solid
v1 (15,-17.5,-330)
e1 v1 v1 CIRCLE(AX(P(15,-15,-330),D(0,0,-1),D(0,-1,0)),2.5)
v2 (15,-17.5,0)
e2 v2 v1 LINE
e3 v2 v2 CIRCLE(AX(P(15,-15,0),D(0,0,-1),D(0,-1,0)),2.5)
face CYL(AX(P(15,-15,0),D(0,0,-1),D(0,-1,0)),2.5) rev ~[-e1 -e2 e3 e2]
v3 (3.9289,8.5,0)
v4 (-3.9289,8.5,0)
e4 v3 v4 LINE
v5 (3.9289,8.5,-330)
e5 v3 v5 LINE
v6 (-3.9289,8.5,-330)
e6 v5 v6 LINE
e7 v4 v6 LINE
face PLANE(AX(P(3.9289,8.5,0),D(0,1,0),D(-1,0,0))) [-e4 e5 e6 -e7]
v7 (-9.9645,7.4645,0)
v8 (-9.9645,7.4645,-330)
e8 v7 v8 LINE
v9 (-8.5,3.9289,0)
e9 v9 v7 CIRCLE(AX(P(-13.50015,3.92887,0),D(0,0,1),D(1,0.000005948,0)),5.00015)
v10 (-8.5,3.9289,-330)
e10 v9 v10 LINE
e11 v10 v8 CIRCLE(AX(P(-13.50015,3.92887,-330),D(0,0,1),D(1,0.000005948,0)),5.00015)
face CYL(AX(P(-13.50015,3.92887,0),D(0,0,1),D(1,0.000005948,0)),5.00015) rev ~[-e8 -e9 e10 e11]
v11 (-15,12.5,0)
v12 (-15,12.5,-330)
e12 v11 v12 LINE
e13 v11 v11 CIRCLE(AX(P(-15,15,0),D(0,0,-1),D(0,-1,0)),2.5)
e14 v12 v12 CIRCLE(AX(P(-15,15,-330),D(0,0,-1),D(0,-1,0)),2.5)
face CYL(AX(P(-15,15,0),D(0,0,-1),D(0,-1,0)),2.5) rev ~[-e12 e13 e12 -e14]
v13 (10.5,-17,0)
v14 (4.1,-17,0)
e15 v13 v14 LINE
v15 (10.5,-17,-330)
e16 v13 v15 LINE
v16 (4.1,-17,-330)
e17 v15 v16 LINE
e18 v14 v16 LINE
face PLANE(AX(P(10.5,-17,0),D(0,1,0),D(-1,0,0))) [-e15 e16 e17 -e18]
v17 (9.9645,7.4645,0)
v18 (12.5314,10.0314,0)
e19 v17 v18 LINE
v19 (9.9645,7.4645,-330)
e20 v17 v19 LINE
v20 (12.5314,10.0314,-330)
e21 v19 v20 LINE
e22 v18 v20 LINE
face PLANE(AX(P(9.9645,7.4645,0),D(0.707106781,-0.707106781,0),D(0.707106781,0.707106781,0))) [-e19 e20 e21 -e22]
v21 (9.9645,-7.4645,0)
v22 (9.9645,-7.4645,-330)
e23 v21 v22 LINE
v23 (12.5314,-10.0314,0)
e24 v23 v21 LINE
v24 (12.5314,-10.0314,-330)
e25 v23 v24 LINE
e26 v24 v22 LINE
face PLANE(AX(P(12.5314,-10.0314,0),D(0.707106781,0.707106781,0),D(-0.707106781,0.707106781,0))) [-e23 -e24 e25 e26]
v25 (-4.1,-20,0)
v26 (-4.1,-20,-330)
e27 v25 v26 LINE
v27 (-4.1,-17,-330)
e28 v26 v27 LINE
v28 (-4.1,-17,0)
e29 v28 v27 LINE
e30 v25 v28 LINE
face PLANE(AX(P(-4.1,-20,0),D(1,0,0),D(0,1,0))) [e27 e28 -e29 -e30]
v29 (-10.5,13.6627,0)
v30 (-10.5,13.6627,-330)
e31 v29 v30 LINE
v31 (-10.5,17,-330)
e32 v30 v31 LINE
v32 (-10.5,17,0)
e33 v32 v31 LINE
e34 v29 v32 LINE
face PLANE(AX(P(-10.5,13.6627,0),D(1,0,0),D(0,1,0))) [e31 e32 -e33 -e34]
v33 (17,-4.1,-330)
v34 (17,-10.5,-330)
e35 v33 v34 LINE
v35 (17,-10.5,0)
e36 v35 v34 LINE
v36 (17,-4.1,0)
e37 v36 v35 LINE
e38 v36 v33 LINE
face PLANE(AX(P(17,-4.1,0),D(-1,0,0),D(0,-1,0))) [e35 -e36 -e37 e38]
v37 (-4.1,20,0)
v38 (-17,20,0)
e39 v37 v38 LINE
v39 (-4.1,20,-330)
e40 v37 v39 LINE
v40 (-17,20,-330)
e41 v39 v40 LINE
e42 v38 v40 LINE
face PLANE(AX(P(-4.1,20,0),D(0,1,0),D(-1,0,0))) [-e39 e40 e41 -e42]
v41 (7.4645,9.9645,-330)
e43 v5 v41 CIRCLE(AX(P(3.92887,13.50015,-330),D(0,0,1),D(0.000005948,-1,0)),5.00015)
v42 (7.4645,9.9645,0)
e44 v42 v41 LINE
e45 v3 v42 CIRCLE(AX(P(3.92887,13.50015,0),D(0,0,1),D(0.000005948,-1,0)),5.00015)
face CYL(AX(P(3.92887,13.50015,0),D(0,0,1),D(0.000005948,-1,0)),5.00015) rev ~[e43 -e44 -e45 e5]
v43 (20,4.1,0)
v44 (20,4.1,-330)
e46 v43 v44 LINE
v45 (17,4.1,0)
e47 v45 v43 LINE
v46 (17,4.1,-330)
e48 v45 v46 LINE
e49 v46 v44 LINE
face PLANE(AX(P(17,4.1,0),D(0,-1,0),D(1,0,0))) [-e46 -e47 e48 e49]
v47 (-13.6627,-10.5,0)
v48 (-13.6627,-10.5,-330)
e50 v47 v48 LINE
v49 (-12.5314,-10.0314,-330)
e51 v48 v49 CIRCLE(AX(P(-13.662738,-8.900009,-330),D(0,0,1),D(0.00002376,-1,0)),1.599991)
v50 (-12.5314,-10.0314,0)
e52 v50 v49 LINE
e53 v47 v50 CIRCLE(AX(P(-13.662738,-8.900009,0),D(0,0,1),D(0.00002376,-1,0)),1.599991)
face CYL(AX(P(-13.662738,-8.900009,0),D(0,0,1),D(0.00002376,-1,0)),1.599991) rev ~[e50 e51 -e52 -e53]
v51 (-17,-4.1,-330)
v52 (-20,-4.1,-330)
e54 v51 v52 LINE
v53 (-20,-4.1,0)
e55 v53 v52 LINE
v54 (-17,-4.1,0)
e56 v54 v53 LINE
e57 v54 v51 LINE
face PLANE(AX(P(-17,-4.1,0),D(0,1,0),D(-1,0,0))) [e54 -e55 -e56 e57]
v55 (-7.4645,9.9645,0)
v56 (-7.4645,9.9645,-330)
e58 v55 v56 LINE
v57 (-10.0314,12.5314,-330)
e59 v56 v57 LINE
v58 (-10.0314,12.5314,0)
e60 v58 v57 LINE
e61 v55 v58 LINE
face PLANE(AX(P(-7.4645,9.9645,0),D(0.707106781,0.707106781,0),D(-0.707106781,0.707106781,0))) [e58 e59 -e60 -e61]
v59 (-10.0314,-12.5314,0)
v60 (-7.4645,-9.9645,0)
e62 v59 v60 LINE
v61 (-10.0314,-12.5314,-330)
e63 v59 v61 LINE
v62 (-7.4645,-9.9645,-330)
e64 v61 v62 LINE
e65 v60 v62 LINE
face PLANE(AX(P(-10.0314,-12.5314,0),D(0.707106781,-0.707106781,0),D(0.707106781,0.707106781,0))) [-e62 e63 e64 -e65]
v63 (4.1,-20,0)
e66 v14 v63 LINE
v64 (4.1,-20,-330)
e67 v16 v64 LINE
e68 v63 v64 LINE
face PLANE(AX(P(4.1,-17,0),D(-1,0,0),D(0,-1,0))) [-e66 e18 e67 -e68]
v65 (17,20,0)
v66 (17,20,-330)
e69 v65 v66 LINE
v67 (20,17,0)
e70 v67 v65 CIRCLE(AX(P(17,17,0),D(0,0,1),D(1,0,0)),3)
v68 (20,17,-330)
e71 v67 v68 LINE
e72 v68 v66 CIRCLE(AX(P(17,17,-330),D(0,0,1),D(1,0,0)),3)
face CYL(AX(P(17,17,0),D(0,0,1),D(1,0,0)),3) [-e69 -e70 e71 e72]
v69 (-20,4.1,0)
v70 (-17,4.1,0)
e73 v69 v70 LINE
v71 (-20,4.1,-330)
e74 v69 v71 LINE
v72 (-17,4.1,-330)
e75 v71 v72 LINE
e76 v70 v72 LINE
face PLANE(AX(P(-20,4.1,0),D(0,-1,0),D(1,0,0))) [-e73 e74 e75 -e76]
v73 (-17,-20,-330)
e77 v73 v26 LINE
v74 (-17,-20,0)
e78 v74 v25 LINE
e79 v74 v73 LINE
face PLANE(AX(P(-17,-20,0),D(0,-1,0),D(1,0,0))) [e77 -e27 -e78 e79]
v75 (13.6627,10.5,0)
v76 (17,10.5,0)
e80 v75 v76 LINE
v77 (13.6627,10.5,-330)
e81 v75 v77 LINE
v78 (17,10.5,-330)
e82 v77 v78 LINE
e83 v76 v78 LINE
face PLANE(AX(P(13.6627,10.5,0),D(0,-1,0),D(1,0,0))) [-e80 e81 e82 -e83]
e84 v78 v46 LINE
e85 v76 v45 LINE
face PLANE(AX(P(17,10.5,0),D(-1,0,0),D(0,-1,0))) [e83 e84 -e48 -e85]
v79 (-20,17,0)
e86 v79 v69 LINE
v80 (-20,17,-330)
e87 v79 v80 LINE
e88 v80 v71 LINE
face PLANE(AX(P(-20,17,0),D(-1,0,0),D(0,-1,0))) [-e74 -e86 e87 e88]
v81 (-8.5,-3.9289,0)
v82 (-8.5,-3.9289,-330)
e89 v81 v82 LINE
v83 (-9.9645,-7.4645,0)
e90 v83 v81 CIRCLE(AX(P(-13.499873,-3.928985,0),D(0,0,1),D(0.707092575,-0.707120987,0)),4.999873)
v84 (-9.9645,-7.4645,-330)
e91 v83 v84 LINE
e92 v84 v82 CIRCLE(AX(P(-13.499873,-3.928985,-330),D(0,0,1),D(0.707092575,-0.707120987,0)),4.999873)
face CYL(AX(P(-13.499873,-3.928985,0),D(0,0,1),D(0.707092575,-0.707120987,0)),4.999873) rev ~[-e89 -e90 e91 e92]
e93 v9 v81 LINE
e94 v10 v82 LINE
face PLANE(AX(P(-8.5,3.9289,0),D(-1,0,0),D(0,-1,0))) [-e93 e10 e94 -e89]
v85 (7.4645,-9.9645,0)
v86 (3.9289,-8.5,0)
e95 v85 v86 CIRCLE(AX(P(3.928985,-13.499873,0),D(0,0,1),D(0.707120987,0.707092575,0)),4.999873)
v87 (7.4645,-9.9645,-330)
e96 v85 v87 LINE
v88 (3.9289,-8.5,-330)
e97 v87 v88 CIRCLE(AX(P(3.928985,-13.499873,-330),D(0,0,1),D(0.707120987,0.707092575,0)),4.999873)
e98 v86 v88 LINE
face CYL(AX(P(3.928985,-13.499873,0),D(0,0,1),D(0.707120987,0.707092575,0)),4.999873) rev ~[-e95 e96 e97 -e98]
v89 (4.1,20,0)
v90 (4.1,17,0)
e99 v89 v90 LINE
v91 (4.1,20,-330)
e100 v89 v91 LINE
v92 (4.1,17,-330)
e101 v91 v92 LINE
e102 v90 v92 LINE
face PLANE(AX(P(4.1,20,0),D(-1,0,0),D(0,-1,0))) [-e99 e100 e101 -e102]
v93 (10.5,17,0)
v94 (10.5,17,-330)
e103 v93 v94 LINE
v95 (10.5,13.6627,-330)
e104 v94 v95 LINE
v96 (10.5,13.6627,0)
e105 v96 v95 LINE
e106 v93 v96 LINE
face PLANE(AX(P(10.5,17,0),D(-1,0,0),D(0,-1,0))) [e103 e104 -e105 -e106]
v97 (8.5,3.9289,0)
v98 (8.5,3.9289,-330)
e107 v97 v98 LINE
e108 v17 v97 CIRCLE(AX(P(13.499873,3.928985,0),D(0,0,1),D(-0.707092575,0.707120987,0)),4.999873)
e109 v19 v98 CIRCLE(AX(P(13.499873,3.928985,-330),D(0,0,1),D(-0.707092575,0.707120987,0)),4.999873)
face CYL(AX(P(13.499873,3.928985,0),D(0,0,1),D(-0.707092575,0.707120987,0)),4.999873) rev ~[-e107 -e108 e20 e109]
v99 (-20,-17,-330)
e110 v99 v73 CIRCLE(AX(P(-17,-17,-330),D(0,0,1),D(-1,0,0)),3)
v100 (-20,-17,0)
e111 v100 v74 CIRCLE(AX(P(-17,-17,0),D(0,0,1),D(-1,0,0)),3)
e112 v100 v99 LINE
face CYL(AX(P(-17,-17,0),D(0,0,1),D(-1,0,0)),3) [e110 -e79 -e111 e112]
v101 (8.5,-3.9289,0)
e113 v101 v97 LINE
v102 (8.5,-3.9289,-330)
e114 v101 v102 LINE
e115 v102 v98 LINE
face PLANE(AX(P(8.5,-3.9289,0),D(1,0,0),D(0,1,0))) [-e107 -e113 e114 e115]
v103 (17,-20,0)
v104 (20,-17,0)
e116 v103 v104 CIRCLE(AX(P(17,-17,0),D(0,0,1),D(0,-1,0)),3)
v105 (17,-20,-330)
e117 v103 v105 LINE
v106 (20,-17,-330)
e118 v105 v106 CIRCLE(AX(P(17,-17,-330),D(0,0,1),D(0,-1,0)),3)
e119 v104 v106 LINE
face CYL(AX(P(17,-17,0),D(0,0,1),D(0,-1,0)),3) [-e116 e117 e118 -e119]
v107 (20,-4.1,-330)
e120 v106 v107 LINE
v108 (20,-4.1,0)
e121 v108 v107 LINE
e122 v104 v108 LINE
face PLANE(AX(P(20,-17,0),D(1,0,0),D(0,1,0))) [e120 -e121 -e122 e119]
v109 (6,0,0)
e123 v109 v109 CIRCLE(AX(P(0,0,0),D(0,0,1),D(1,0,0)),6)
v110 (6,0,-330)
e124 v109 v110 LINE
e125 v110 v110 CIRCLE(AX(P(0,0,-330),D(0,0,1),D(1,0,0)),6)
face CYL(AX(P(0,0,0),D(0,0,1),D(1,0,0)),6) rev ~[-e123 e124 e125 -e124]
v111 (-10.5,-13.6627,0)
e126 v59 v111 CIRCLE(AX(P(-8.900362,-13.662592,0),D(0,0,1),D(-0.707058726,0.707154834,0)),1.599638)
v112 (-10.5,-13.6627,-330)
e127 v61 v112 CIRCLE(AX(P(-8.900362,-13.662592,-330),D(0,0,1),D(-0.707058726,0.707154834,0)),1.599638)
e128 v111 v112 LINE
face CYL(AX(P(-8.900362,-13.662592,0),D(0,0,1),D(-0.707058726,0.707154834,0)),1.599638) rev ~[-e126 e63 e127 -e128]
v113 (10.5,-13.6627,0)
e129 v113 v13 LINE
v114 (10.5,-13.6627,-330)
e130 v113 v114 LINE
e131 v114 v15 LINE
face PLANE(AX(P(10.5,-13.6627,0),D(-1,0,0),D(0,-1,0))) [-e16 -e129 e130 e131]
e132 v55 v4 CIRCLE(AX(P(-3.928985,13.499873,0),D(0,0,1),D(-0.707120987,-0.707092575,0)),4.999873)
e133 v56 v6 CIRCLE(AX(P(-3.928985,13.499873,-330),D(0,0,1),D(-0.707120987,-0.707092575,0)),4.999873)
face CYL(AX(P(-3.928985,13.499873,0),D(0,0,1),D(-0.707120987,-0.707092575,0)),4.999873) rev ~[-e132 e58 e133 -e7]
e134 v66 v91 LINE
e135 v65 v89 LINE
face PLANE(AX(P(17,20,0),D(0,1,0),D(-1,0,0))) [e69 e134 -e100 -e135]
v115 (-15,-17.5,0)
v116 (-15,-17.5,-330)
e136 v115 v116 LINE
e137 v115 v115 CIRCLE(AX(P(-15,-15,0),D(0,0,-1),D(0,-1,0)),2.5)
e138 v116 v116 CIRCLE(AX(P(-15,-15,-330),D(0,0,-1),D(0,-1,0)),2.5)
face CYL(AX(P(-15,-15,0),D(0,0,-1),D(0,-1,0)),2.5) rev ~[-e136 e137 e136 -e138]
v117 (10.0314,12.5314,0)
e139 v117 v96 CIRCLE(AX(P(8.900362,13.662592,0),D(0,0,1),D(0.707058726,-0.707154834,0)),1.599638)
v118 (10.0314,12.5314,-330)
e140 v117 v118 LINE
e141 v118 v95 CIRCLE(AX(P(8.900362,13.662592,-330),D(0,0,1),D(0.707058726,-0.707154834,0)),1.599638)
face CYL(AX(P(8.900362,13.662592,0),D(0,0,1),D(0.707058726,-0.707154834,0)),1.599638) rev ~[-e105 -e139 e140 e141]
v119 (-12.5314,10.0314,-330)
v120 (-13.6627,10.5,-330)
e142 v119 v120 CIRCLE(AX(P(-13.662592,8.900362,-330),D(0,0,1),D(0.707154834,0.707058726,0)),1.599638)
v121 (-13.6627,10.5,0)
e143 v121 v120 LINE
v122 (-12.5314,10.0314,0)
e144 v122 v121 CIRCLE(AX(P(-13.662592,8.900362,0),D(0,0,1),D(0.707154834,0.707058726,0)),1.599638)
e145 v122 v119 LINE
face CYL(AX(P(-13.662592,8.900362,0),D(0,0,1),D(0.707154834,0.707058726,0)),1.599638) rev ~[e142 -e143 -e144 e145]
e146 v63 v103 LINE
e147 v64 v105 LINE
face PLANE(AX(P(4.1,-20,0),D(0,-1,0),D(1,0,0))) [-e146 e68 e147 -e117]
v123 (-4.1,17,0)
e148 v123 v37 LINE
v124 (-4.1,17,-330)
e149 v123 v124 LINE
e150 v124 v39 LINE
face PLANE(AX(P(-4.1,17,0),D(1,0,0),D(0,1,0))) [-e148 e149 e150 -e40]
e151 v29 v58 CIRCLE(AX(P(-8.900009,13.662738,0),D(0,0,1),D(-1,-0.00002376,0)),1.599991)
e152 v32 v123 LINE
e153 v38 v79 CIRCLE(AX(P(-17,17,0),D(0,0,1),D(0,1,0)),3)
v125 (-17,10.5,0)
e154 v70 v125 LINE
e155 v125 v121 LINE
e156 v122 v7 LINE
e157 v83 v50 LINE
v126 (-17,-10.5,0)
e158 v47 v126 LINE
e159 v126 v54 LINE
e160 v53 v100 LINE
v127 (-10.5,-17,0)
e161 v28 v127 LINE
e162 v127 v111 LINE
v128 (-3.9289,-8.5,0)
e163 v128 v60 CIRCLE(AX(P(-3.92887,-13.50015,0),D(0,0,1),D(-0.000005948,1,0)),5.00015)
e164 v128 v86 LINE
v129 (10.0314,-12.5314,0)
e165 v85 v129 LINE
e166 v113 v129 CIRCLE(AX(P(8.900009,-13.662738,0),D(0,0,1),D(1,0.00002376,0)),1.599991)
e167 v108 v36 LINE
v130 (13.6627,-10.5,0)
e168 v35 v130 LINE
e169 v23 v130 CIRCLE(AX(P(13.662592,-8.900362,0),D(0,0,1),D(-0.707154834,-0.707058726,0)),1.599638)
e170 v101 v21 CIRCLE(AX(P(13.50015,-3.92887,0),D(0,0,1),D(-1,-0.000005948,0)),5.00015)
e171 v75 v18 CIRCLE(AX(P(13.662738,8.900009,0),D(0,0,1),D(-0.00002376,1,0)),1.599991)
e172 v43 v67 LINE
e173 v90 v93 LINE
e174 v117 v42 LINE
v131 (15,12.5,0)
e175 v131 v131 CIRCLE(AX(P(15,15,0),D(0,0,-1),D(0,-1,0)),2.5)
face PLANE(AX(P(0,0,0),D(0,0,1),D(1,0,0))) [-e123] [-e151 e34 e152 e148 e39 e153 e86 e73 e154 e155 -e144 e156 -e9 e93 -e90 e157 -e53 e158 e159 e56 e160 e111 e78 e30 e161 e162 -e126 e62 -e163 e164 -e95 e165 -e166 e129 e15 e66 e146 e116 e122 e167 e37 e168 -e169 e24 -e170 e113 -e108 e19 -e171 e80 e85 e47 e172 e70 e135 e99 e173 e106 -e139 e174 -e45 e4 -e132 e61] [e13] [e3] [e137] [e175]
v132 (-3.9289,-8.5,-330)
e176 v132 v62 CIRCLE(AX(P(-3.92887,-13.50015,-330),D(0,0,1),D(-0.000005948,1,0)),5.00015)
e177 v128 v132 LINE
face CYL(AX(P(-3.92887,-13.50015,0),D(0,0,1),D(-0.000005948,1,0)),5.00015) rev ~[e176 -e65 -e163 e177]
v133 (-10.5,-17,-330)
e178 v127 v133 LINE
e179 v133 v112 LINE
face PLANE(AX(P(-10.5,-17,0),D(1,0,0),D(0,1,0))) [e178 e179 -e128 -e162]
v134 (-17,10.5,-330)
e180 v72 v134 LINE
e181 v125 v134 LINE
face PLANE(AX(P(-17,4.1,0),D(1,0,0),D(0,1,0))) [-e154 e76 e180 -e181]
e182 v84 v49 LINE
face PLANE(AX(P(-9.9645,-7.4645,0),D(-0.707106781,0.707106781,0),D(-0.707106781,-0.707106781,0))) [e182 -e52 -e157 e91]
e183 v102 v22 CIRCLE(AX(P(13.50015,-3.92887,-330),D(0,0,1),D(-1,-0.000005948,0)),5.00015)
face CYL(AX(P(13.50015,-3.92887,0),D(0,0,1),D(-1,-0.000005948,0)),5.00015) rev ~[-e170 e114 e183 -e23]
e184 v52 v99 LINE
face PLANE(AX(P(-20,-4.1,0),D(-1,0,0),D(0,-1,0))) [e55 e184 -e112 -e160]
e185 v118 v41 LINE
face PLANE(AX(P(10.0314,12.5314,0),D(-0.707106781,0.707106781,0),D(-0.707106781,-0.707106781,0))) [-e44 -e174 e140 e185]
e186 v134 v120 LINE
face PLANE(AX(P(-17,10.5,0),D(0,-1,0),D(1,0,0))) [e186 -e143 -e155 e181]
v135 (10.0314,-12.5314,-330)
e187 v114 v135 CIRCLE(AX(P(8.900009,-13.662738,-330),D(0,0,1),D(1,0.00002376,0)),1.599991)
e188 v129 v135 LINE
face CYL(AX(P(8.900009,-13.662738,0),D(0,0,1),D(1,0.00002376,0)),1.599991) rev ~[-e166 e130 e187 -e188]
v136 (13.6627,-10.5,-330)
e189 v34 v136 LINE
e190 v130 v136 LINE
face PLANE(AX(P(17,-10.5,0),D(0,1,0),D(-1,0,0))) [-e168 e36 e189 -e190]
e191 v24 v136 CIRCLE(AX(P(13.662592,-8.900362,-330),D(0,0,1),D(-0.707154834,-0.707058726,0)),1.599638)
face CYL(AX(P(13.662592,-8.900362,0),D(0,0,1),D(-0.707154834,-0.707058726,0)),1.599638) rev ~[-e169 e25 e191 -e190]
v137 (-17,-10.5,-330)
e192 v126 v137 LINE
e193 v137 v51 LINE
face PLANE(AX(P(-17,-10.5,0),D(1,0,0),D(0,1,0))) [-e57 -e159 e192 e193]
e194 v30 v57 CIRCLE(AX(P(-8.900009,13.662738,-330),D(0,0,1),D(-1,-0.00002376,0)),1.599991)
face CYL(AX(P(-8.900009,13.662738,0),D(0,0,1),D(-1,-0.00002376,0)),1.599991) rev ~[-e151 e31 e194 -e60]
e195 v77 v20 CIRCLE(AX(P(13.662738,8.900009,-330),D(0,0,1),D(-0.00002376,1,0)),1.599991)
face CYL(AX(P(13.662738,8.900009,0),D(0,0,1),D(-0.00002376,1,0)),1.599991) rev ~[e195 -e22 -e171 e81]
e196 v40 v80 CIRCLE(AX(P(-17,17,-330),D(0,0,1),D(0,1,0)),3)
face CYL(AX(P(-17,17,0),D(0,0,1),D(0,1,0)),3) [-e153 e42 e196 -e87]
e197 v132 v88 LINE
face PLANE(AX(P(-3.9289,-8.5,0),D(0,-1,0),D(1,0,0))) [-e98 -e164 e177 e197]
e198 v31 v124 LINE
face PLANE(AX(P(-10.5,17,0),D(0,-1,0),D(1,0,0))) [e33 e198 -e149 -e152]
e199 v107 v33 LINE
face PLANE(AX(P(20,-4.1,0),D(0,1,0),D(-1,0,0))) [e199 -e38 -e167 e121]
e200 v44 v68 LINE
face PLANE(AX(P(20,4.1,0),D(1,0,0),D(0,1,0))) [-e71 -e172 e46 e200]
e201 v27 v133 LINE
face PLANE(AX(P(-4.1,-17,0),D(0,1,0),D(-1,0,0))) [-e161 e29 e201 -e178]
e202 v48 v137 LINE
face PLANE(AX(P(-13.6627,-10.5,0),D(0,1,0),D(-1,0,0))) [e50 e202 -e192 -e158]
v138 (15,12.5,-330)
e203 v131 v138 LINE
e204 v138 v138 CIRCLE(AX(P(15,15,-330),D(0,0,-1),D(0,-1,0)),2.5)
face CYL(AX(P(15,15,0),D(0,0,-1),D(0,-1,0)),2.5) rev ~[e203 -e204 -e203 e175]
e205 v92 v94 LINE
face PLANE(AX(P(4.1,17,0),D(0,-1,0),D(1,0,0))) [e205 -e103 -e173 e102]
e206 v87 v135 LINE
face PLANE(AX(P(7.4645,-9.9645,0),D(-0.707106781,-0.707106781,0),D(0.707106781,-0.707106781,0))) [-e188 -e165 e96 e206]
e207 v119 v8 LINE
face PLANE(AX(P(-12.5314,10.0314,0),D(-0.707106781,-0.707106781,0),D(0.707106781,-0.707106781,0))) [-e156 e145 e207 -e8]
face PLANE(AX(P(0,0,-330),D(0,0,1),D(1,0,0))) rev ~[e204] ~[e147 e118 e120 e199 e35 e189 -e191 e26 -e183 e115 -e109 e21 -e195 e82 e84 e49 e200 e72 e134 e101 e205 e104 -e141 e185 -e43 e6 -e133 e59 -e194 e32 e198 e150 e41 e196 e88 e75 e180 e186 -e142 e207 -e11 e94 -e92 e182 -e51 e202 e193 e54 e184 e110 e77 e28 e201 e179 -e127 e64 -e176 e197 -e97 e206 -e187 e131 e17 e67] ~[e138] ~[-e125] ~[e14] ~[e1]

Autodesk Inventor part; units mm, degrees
sketch "Skizze_1" plane through (0, 0, 0) normal (0, 0, 1) x (1, 0, 0)
  arc A0 (-20, -17) -> (-17, -20) centre (-17, -17) ccw
  line L0 (-17, -20) -> (-4.1, -20)
  line L1 (-4.1, -20) -> (-4.1, -17)
  line L2 (-4.1, -17) -> (-10.5, -17)
  line L3 (-10.5, -17) -> (-10.5, -13.6627)
  arc A1 (-10.0314, -12.5314) -> (-10.5, -13.6627) centre (-8.9002, -13.6627) ccw
  line L4 (-10.0314, -12.5314) -> (-7.4645, -9.9645)
  arc A2 (-3.9289, -8.5) -> (-7.4645, -9.9645) centre (-3.9289, -13.5) ccw
  line L5 (-3.9289, -8.5) -> (3.9289, -8.5)
  arc A3 (7.4645, -9.9645) -> (3.9289, -8.5) centre (3.9289, -13.5) ccw
  line L6 (7.4645, -9.9645) -> (10.0314, -12.5314)
  arc A4 (10.5, -13.6627) -> (10.0314, -12.5314) centre (8.9002, -13.6627) ccw
  line L7 (10.5, -13.6627) -> (10.5, -17)
  line L8 (10.5, -17) -> (4.1, -17)
  line L9 (4.1, -17) -> (4.1, -20)
  line L10 (4.1, -20) -> (17, -20)
  arc A5 (17, -20) -> (20, -17) centre (17, -17) ccw
  line L11 (20, -17) -> (20, -4.1)
  line L12 (20, -4.1) -> (17, -4.1)
  line L13 (17, -4.1) -> (17, -10.5)
  line L14 (17, -10.5) -> (13.6627, -10.5)
  arc A6 (12.5314, -10.0314) -> (13.6627, -10.5) centre (13.6627, -8.9002) ccw
  line L15 (12.5314, -10.0314) -> (9.9645, -7.4645)
  arc A7 (8.5, -3.9289) -> (9.9645, -7.4645) centre (13.5, -3.9289) ccw
  line L16 (8.5, -3.9289) -> (8.5, 3.9289)
  arc A8 (9.9645, 7.4645) -> (8.5, 3.9289) centre (13.5, 3.9289) ccw
  line L17 (9.9645, 7.4645) -> (12.5314, 10.0314)
  arc A9 (13.6627, 10.5) -> (12.5314, 10.0314) centre (13.6627, 8.9002) ccw
  line L18 (13.6627, 10.5) -> (17, 10.5)
  line L19 (17, 10.5) -> (17, 4.1)
  line L20 (17, 4.1) -> (20, 4.1)
  line L21 (20, 4.1) -> (20, 17)
  arc A10 (20, 17) -> (17, 20) centre (17, 17) ccw
  line L22 (17, 20) -> (4.1, 20)
  line L23 (4.1, 20) -> (4.1, 17)
  line L24 (4.1, 17) -> (10.5, 17)
  line L25 (10.5, 17) -> (10.5, 13.6627)
  arc A11 (10.0314, 12.5314) -> (10.5, 13.6627) centre (8.9002, 13.6627) ccw
  line L26 (10.0314, 12.5314) -> (7.4645, 9.9645)
  arc A12 (3.9289, 8.5) -> (7.4645, 9.9645) centre (3.9289, 13.5) ccw
  line L27 (3.9289, 8.5) -> (-3.9289, 8.5)
  arc A13 (-7.4645, 9.9645) -> (-3.9289, 8.5) centre (-3.9289, 13.5) ccw
  line L28 (-7.4645, 9.9645) -> (-10.0314, 12.5314)
  arc A14 (-10.5, 13.6627) -> (-10.0314, 12.5314) centre (-8.9002, 13.6627) ccw
  line L29 (-10.5, 13.6627) -> (-10.5, 17)
  line L30 (-10.5, 17) -> (-4.1, 17)
  line L31 (-4.1, 17) -> (-4.1, 20)
  line L32 (-4.1, 20) -> (-17, 20)
  arc A15 (-17, 20) -> (-20, 17) centre (-17, 17) ccw
  line L33 (-20, 17) -> (-20, 4.1)
  line L34 (-20, 4.1) -> (-17, 4.1)
  line L35 (-17, 4.1) -> (-17, 10.5)
  line L36 (-17, 10.5) -> (-13.6627, 10.5)
  arc A16 (-12.5314, 10.0314) -> (-13.6627, 10.5) centre (-13.6627, 8.9002) ccw
  line L37 (-12.5314, 10.0314) -> (-9.9645, 7.4645)
  arc A17 (-8.5, 3.9289) -> (-9.9645, 7.4645) centre (-13.5, 3.9289) ccw
  line L38 (-8.5, 3.9289) -> (-8.5, -3.9289)
  arc A18 (-9.9645, -7.4645) -> (-8.5, -3.9289) centre (-13.5, -3.9289) ccw
  line L39 (-9.9645, -7.4645) -> (-12.5314, -10.0314)
  arc A19 (-13.6627, -10.5) -> (-12.5314, -10.0314) centre (-13.6627, -8.9002) ccw
  line L40 (-13.6627, -10.5) -> (-17, -10.5)
  line L41 (-17, -10.5) -> (-17, -4.1)
  line L42 (-17, -4.1) -> (-20, -4.1)
  line L43 (-20, -4.1) -> (-20, -17)
  circle A20 centre (0, 0) radius 6
extrude "Extrusion1" add sketch "Skizze_1" against normal blind 330
sketch "Sketch2" plane through (0, 0, 0) normal (0, 0, 1) x (1, 0, 0)
  point P0 (-15, -15)
hole "Drilling 1" at (-15, -15, 0) direction (0, 0, -1) diameter 5 depth 6000
sketch "Sketch3" plane through (0, 0, 0) normal (0, 0, 1) x (1, 0, 0)
  point P0 (15, -15)
hole "Drilling 2" at (15, -15, 0) direction (0, 0, -1) diameter 5 depth 6000
sketch "Sketch4" plane through (0, 0, 0) normal (0, 0, 1) x (1, 0, 0)
  point P0 (15, 15)
hole "Drilling 3" at (15, 15, 0) direction (0, 0, -1) diameter 5 depth 6000
sketch "Sketch5" plane through (0, 0, 0) normal (0, 0, 1) x (1, 0, 0)
  point P0 (-15, 15)
hole "Drilling 4" at (-15, 15, 0) direction (0, 0, -1) diameter 5 depth 6000
ref_plane "side_4d_XY" through (-20, 0, -165) normal (-1, 0, 0) x (0, 1, 0)
ref_plane "side_4d_YZ" through (-20, 0, -165) normal (0, 1, 0) x (0, 0, -1)
ref_plane "side_4d_ZX" through (-20, 0, -165) normal (0, 0, -1) x (-1, 0, 0)
ref_plane "side_1a_XY" through (0, 20, -165) normal (0, 1, 0) x (1, 0, 0)
ref_plane "side_1a_YZ" through (0, 20, -165) normal (1, 0, 0) x (0, 0, -1)
ref_plane "side_1a_ZX" through (0, 20, -165) normal (0, 0, -1) x (0, 1, 0)
ref_plane "side_2b_XY" through (20, 0, -165) normal (1, 0, 0) x (0, -1, 0)
ref_plane "side_2b_YZ" through (20, 0, -165) normal (0, -1, 0) x (0, 0, -1)
ref_plane "side_2b_ZX" through (20, 0, -165) normal (0, 0, -1) x (1, 0, 0)
ref_plane "side_3c_XY" through (0, -20, -165) normal (0, -1, 0) x (-1, 0, 0)
ref_plane "side_3c_YZ" through (0, -20, -165) normal (-1, 0, 0) x (0, 0, -1)
ref_plane "side_3c_ZX" through (0, -20, -165) normal (0, 0, -1) x (0, -1, 0)
ref_plane "end_XY" through (0, 0, -330) normal (0, 0, -1) x (1, 0, 0)
ref_plane "end_YZ" through (0, 0, -330) normal (1, 0, 0) x (0, -1, 0)
ref_plane "end_ZX" through (0, 0, -330) normal (0, -1, 0) x (0, 0, -1)
ref_plane "start_XY" through (0, 0, 0) normal (0, 0, 1) x (1, 0, 0)
ref_plane "start_YZ" through (0, 0, 0) normal (1, 0, 0) x (0, 1, 0)
ref_plane "start_ZX" through (0, 0, 0) normal (0, 1, 0) x (0, 0, 1)
properties part number "MayTec 1.11.040040.43S_Profile 40x40, 4E, S_330_Detail_(0;0,0,0)"
